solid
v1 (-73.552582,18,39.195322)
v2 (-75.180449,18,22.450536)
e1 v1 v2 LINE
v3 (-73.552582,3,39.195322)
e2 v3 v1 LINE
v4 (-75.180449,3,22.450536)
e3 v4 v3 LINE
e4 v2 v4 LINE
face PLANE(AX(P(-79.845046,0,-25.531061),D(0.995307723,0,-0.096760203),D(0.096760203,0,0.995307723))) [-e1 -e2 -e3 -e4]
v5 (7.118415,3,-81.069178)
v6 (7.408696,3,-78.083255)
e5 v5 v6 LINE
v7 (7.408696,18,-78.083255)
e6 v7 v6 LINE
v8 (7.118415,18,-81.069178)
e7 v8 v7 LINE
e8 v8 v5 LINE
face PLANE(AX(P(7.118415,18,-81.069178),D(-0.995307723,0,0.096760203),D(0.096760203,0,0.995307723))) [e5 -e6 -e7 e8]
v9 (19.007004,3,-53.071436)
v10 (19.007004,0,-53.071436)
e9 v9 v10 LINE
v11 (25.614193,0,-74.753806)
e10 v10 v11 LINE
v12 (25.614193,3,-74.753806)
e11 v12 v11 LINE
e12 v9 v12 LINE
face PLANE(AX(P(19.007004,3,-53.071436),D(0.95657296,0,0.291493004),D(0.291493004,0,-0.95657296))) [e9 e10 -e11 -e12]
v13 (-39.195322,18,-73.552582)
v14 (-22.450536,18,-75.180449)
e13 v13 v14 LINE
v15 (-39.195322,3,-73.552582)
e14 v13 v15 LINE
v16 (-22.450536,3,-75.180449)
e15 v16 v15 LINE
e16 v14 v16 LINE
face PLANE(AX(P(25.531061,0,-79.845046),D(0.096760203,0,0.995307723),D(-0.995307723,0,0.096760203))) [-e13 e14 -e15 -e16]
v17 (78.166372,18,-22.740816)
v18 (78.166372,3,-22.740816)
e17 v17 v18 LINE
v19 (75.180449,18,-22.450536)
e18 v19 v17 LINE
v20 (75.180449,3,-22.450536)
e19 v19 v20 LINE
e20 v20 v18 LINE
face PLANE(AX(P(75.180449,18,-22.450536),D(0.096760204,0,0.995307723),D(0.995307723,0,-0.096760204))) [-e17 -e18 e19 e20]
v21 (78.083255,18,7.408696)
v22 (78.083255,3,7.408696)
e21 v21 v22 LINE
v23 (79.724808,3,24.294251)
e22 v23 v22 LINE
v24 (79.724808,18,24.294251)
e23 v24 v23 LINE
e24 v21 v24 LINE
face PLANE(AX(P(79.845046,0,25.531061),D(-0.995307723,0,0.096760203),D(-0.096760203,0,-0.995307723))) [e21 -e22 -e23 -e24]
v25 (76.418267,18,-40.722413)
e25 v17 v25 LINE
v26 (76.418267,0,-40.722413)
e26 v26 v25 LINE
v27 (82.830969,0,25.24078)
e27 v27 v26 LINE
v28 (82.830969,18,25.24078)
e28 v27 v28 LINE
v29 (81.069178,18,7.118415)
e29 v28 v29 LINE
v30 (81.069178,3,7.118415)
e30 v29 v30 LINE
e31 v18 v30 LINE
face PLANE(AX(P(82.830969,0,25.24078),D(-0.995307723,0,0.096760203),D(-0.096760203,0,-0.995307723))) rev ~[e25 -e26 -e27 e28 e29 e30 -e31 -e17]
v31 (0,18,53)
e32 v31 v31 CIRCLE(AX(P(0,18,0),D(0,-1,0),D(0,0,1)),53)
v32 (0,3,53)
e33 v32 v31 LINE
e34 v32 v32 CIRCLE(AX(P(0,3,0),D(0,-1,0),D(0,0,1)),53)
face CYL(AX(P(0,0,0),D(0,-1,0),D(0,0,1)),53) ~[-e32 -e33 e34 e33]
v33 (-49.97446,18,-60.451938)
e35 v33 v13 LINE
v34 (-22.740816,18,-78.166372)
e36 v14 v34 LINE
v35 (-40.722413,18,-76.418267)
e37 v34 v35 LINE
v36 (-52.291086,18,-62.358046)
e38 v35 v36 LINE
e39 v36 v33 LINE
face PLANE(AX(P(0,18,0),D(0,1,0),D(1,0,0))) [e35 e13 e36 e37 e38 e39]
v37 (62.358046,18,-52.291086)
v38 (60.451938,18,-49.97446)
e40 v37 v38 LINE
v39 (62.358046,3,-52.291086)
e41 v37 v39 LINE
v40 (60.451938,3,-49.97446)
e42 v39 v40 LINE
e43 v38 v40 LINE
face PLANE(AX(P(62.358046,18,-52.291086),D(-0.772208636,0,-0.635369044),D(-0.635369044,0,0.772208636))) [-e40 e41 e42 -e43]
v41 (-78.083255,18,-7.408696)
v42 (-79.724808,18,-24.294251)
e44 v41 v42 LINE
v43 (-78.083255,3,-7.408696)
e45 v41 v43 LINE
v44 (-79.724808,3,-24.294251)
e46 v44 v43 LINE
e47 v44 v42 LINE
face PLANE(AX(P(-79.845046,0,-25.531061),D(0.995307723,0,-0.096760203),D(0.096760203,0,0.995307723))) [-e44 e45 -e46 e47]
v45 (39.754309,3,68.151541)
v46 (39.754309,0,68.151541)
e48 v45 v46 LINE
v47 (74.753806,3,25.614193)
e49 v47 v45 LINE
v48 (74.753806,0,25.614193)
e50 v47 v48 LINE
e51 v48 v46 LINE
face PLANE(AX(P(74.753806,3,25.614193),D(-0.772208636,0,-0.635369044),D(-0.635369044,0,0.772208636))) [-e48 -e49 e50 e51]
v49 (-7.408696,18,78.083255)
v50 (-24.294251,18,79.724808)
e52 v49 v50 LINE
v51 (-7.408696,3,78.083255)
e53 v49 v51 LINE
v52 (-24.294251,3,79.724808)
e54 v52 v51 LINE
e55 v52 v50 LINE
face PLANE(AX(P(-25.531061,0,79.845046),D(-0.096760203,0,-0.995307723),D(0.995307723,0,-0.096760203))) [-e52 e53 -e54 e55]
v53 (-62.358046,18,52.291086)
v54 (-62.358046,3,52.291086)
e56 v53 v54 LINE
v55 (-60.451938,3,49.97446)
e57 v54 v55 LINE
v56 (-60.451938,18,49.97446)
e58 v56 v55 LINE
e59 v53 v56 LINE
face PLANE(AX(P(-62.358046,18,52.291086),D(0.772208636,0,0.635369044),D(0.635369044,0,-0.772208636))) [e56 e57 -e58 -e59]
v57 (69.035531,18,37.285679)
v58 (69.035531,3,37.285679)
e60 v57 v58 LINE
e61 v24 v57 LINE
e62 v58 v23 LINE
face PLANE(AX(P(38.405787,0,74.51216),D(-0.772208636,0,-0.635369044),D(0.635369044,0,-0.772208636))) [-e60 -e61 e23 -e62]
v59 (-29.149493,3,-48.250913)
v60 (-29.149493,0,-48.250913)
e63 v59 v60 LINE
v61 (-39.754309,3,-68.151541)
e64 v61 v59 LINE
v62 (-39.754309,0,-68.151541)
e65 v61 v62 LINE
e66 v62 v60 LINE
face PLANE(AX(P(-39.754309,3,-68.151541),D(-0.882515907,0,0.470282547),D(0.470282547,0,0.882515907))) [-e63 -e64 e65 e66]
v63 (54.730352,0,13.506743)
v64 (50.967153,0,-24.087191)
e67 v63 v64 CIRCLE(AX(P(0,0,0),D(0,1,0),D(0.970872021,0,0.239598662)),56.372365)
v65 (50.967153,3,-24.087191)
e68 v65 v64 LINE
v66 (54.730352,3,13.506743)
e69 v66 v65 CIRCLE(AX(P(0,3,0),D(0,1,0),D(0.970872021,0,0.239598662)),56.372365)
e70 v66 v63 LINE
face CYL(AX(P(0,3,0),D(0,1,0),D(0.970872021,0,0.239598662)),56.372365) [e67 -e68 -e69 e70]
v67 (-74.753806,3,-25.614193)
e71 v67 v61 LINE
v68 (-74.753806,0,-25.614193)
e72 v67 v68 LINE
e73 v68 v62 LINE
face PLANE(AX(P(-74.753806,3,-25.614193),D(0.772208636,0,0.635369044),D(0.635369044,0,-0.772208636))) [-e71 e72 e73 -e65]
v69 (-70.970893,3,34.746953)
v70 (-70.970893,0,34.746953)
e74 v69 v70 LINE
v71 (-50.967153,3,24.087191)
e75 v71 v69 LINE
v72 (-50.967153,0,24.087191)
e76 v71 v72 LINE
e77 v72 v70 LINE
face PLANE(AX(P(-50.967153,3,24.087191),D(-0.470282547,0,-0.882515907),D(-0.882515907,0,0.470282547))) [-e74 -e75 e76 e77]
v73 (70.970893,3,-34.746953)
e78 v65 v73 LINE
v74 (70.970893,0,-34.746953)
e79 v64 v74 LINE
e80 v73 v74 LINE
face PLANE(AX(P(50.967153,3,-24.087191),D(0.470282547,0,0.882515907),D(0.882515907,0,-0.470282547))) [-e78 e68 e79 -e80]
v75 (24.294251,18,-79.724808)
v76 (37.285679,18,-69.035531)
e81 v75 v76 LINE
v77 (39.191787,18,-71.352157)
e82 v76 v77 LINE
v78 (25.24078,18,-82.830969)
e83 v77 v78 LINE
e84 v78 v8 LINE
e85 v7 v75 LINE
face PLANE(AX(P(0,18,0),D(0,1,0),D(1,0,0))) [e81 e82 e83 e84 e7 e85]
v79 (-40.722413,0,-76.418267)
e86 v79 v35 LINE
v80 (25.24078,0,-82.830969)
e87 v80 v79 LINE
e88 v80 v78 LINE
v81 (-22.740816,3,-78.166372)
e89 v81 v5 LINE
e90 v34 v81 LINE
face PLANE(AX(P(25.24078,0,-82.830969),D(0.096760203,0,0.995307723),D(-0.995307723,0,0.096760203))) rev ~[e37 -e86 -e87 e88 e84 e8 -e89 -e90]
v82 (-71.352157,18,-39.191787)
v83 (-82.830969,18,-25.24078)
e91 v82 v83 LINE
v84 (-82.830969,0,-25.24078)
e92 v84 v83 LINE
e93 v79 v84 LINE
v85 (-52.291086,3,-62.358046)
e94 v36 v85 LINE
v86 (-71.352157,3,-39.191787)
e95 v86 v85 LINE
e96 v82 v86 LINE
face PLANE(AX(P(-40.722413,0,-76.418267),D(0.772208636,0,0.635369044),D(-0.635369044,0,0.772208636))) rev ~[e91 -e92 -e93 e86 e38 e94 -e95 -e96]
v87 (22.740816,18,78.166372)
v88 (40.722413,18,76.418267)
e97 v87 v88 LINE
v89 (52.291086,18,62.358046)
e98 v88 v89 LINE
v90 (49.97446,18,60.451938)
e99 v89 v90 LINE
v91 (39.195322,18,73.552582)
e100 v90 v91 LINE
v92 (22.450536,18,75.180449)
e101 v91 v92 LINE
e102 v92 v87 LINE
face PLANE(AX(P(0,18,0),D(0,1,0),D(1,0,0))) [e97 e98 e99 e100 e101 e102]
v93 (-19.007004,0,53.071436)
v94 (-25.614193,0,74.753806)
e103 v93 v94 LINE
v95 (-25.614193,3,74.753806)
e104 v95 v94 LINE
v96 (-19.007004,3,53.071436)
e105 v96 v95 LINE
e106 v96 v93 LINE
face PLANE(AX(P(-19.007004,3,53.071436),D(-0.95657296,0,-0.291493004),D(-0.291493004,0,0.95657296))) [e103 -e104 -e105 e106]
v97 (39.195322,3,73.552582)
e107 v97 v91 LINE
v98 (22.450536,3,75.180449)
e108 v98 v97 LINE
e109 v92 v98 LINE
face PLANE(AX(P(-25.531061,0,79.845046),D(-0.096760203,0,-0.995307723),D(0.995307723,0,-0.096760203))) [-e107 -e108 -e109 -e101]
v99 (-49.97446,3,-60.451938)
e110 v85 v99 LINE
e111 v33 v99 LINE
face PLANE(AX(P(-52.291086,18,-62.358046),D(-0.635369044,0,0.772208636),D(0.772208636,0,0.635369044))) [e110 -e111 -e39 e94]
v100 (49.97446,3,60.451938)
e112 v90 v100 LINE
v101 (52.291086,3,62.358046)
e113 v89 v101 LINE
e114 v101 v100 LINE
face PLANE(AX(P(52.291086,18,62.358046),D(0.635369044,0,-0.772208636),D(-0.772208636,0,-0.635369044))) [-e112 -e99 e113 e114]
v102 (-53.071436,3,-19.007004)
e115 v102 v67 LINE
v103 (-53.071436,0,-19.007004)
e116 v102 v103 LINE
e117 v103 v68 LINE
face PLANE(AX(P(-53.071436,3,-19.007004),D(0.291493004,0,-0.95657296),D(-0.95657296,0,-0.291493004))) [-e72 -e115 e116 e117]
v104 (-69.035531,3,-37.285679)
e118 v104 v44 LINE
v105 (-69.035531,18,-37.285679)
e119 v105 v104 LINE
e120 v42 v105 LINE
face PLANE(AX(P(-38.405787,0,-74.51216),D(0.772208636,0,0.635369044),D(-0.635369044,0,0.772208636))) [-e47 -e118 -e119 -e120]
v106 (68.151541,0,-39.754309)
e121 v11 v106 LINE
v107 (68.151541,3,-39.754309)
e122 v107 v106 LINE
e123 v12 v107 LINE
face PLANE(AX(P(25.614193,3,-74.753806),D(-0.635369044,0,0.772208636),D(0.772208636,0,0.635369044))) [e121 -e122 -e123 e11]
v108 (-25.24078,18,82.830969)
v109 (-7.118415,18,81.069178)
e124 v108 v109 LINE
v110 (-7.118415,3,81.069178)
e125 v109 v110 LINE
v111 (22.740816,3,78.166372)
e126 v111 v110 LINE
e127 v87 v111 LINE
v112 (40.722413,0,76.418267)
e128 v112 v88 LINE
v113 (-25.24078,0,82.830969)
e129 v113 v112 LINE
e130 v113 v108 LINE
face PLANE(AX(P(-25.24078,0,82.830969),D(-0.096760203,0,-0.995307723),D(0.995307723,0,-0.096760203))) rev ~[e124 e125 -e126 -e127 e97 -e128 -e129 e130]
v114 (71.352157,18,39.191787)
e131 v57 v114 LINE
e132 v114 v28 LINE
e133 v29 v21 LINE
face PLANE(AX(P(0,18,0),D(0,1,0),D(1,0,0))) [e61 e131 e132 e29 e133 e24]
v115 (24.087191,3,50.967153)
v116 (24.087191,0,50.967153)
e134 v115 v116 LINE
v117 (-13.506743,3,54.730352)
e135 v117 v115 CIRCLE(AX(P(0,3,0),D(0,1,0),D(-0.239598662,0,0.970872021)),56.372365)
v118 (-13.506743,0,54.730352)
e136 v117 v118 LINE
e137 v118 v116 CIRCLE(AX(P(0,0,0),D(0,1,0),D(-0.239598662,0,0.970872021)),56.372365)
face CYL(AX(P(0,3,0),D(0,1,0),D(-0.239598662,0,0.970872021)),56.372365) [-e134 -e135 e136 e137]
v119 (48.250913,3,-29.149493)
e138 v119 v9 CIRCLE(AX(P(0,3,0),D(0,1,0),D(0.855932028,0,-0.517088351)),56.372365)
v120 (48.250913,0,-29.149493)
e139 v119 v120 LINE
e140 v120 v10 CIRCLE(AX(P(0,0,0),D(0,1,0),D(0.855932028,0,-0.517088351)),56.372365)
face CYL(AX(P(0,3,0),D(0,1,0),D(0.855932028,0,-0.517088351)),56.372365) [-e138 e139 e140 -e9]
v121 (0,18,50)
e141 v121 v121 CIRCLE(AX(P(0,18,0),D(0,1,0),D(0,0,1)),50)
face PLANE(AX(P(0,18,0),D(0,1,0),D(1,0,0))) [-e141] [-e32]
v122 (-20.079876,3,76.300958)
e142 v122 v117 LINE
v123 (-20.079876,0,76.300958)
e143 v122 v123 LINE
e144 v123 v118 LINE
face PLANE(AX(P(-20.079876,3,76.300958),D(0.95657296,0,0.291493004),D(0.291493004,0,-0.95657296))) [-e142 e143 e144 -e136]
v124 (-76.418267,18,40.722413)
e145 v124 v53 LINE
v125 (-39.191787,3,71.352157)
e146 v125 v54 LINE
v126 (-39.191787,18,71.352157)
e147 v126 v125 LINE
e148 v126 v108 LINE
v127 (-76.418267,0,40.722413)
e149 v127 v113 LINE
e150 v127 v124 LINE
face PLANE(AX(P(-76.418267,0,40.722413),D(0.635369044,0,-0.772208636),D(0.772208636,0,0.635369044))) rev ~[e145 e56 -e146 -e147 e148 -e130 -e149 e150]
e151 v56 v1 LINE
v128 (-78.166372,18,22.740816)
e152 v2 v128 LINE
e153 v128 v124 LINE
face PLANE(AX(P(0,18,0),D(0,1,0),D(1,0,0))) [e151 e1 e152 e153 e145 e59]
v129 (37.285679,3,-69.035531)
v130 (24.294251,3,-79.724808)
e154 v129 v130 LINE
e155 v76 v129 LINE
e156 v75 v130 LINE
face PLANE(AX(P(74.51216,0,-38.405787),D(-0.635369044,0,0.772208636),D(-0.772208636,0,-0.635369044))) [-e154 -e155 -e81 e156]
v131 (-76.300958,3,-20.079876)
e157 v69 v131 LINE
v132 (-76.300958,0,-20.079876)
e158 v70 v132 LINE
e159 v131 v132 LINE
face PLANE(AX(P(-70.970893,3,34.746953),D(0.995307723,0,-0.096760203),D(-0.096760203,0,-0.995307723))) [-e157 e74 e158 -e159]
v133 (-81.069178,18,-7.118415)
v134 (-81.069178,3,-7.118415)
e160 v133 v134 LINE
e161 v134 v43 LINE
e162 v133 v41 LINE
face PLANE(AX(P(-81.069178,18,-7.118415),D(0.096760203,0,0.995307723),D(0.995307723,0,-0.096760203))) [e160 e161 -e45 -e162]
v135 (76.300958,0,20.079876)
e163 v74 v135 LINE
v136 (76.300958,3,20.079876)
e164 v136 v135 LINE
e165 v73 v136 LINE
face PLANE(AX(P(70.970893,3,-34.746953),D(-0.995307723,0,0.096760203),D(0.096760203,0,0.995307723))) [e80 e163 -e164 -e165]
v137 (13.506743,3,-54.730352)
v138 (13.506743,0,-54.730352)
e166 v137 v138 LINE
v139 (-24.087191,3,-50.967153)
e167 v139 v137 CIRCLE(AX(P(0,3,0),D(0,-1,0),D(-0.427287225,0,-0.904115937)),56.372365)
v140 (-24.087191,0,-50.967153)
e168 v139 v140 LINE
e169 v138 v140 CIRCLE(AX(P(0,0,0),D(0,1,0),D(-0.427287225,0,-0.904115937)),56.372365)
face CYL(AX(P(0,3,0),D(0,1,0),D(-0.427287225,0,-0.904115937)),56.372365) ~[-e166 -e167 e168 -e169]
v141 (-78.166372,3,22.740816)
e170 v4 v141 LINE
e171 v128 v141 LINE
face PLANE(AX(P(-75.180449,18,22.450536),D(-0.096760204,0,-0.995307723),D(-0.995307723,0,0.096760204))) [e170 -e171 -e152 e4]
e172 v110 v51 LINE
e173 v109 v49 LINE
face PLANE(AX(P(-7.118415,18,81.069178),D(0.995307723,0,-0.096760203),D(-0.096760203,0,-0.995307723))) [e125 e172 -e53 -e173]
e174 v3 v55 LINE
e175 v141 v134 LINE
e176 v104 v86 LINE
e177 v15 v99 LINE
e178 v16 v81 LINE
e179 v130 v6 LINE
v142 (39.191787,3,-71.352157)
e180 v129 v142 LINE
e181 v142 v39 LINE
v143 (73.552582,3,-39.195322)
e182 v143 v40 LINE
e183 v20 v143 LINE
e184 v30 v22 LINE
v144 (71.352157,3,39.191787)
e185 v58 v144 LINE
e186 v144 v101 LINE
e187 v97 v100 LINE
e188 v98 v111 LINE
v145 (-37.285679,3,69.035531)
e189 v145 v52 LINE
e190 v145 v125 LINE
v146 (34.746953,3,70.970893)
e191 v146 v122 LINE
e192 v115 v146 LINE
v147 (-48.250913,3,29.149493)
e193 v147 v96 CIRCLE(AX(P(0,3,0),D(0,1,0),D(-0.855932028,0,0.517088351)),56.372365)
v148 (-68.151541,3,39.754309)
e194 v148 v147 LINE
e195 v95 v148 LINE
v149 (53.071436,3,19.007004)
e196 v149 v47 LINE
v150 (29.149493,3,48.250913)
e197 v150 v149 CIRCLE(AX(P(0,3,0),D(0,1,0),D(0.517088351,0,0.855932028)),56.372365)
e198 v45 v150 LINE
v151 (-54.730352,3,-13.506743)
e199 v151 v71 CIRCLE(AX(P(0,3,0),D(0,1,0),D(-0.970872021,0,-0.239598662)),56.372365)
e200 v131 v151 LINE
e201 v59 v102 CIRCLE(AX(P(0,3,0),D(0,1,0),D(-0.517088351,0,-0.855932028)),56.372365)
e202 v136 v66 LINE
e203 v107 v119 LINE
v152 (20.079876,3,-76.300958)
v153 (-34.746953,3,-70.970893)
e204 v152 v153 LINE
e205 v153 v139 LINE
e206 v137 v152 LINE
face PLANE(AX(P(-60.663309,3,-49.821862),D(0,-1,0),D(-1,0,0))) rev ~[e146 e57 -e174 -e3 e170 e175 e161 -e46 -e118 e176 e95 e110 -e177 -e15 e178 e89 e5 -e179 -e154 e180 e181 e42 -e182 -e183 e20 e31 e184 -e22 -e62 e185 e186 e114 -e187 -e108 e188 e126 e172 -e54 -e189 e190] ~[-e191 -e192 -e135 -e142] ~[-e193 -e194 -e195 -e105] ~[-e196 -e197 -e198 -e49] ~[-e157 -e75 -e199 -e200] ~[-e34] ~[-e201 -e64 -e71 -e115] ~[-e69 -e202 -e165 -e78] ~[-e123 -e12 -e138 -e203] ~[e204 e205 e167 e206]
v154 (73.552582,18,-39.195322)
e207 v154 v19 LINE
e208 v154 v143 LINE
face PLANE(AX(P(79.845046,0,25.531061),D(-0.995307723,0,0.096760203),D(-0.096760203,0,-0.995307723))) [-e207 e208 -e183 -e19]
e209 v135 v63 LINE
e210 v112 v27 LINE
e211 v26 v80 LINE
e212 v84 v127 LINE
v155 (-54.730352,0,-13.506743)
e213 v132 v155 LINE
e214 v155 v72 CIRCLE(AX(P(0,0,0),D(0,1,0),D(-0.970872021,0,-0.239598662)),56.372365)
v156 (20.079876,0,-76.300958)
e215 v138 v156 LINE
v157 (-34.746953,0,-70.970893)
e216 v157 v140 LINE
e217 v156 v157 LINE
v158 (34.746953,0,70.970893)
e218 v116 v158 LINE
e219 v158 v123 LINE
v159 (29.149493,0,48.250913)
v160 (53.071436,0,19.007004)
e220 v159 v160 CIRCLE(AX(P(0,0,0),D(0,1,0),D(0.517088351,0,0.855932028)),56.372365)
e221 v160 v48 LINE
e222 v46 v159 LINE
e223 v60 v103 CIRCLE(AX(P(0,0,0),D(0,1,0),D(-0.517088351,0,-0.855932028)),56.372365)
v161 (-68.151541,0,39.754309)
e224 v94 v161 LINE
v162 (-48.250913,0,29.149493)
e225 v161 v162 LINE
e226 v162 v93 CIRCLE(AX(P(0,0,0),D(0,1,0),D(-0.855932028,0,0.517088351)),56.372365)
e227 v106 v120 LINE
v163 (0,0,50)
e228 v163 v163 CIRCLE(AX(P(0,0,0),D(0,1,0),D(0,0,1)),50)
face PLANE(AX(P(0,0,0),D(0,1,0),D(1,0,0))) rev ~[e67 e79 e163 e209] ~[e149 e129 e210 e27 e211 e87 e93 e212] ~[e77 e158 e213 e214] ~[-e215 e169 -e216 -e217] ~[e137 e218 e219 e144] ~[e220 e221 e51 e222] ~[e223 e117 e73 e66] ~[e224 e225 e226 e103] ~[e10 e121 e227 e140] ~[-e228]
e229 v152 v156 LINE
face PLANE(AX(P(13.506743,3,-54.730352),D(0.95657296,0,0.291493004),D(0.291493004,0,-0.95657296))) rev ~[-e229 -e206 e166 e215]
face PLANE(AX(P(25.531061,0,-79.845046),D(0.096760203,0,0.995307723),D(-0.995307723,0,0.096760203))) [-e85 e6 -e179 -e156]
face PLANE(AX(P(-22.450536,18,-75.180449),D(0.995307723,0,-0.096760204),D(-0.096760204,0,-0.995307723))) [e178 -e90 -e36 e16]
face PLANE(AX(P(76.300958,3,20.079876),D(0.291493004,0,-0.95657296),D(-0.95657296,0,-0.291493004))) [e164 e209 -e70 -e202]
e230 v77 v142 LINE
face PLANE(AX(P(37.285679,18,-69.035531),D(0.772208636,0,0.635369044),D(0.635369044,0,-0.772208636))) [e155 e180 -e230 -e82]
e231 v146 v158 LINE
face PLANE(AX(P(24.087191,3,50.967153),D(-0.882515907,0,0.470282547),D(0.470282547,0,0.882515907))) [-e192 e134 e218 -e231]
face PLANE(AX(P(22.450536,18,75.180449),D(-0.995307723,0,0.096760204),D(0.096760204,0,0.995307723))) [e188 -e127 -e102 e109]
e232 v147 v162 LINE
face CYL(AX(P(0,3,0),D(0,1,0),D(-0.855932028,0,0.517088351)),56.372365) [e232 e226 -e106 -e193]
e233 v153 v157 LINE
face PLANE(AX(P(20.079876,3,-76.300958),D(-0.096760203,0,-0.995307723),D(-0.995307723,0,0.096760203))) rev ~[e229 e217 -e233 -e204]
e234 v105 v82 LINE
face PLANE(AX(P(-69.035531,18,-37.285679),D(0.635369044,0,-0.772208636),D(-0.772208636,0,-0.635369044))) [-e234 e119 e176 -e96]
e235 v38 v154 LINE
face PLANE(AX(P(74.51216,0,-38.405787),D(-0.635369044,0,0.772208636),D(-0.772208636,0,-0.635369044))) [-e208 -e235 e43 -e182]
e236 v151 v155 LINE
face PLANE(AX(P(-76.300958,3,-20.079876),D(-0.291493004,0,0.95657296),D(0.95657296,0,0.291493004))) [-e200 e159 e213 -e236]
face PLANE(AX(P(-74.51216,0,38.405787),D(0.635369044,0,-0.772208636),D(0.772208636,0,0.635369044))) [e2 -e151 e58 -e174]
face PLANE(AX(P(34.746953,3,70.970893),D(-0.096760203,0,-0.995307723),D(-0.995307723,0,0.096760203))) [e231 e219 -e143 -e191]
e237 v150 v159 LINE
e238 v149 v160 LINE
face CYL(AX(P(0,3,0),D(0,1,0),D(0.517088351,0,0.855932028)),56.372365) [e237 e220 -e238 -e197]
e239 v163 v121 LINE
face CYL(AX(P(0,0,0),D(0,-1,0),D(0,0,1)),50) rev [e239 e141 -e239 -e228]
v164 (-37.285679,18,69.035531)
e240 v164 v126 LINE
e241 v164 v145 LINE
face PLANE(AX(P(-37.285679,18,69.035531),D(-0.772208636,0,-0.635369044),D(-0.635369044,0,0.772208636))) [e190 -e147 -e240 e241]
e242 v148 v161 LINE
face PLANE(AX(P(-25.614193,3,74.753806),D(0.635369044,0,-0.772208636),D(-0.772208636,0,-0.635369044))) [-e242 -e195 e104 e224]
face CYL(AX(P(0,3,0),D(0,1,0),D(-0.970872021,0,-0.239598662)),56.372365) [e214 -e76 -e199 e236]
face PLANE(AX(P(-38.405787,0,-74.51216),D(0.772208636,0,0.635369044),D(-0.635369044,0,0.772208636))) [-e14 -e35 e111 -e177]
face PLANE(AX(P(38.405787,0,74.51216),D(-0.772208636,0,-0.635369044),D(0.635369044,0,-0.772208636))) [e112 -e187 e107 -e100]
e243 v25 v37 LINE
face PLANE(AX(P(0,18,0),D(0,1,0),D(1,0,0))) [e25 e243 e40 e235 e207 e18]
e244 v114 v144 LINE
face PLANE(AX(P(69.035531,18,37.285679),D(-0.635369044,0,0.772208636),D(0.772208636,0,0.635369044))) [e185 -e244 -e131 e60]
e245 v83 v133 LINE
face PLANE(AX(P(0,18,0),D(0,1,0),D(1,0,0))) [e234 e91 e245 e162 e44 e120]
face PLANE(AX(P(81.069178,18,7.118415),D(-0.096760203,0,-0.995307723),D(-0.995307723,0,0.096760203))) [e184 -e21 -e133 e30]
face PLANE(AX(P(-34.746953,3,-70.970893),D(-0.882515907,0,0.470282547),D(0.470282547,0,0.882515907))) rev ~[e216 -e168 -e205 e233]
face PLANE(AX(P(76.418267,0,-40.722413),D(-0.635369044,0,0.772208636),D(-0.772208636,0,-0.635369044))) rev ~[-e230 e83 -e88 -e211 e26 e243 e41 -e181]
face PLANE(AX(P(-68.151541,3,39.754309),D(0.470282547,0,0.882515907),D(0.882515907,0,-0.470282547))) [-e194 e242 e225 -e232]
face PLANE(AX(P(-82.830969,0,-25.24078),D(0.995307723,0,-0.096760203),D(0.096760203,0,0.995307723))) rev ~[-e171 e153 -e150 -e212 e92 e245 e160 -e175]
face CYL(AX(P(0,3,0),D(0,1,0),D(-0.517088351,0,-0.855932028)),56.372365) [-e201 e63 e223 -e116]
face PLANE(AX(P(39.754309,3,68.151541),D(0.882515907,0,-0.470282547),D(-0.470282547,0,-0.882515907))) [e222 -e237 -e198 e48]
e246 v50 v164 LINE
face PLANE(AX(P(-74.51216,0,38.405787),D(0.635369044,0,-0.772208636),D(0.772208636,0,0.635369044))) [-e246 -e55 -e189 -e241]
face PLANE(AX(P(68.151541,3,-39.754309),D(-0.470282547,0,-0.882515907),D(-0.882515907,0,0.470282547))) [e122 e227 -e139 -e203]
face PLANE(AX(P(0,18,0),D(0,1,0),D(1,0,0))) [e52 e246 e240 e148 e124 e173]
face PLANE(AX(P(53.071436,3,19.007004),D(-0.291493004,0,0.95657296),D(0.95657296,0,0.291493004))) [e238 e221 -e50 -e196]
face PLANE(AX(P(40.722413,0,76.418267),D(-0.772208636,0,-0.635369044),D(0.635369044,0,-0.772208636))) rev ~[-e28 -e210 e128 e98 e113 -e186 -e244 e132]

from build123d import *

# Parameters (mm, degrees)
SKETCH1_R           = 50
BOSS_EXTRUDE1_DEPTH = 18
SHELL1_T            = -3
CUT_EXTRUDE1_DEPTH  = 15
CUT_EXTRUDE2_DEPTH  = 119.097158392


with BuildPart() as part:
    # Sketch1 → Boss-Extrude1 (new body)
    with BuildSketch(Plane(origin=(0, 0, 0), x_dir=(1, 0, 0), z_dir=(0, 1, 0))):
        Polygon((-40.722412876, 76.418266738), (-82.830968907, 25.240780326), (-76.418266738, -40.722412876), (-25.240780326, -82.830968907), (40.722412876, -76.418266738), (82.830968907, -25.240780326), (76.418266738, 40.722412876), (25.240780326, 82.830968907), align=None)
        Circle(SKETCH1_R, mode=Mode.SUBTRACT)
    extrude(amount=BOSS_EXTRUDE1_DEPTH)

    # Shell1
    shell1_openings = [part.faces().sort_by_distance(p)[0] for p in [
        (-59.967550003, 18, -49.340972299),
    ]]
    offset(amount=SHELL1_T, openings=shell1_openings, kind=Kind.INTERSECTION)

    # Sketch3 → Cut-Extrude1 (cut)
    with BuildSketch(Plane(origin=(0, 18, 0), x_dir=(1, 0, 0), z_dir=(0, 1, 0))):
        Polygon((7.118415409, 81.069178382), (7.408696019, 78.083255213), (-22.450535664, 75.18044911), (-22.740816275, 78.166372279), align=None)
        Polygon((60.451938453, 49.974460064), (37.285679369, 69.035531388), (39.191786502, 71.352157297), (62.358045586, 52.291085972), align=None)
        Polygon((78.083255213, -7.408696019), (75.18044911, 22.450535664), (78.166372279, 22.740816275), (81.069178382, -7.118415409), align=None)
        Polygon((49.974460064, -60.451938453), (69.035531388, -37.285679369), (71.352157297, -39.191786502), (52.291085972, -62.358045586), align=None)
        Polygon((-7.408696019, -78.083255213), (22.450535664, -75.18044911), (22.740816275, -78.166372279), (-7.118415409, -81.069178382), align=None)
        Polygon((-60.451938453, -49.974460064), (-37.285679369, -69.035531388), (-39.191786502, -71.352157297), (-62.358045586, -52.291085972), align=None)
        Polygon((-78.083255213, 7.408696019), (-75.18044911, -22.450535664), (-78.166372279, -22.740816275), (-81.069178382, 7.118415409), align=None)
        Polygon((-49.974460064, 60.451938453), (-69.035531388, 37.285679369), (-71.352157297, 39.191786502), (-52.291085972, 62.358045586), align=None)
    extrude(amount=-CUT_EXTRUDE1_DEPTH, mode=Mode.SUBTRACT)

    # Sketch5 → Cut-Extrude2 (cut, through all)
    with BuildSketch(Plane(origin=(0, 3, 0), x_dir=(1, 0, 0), z_dir=(0, 1, 0))):
        with BuildLine():
            Line((-34.746953293, 70.970892834), (-24.087191321, 50.967153462))
            ThreePointArc((-24.087191321, 50.967153462), (-5.614880768, 56.092037151), (13.506743194, 54.730351781))
            Line((13.506743194, 54.730351781), (20.079875719, 76.300958107))
            Line((20.079875719, 76.300958107), (-34.746953293, 70.970892834))
        make_face()
        with BuildLine():
            Line((25.614193291, 74.753805889), (68.151541175, 39.754308602))
            Line((68.151541175, 39.754308602), (48.250912585, 29.149493176))
            ThreePointArc((48.250912585, 29.149493176), (35.692739573, 43.633380106), (19.007003508, 53.071436154))
            Line((19.007003508, 53.071436154), (25.614193291, 74.753805889))
        make_face()
        with BuildLine():
            Line((70.970892834, 34.746953293), (76.300958107, -20.079875719))
            Line((76.300958107, -20.079875719), (54.730351781, -13.506743194))
            ThreePointArc((54.730351781, -13.506743194), (56.092037151, 5.614880768), (50.967153462, 24.087191321))
            Line((50.967153462, 24.087191321), (70.970892834, 34.746953293))
        make_face()
        with BuildLine():
            Line((74.753805889, -25.614193291), (39.754308602, -68.151541175))
            Line((39.754308602, -68.151541175), (29.149493176, -48.250912585))
            ThreePointArc((29.149493176, -48.250912585), (43.633380106, -35.692739573), (53.071436154, -19.007003508))
            Line((53.071436154, -19.007003508), (74.753805889, -25.614193291))
        make_face()
        with BuildLine():
            Line((34.746953293, -70.970892834), (-20.079875719, -76.300958107))
            Line((-20.079875719, -76.300958107), (-13.506743194, -54.730351781))
            ThreePointArc((-13.506743194, -54.730351781), (5.614880768, -56.092037151), (24.087191321, -50.967153462))
            Line((24.087191321, -50.967153462), (34.746953293, -70.970892834))
        make_face()
        with BuildLine():
            Line((-25.614193291, -74.753805889), (-68.151541175, -39.754308602))
            Line((-68.151541175, -39.754308602), (-48.250912585, -29.149493176))
            ThreePointArc((-48.250912585, -29.149493176), (-35.692739573, -43.633380106), (-19.007003508, -53.071436154))
            Line((-19.007003508, -53.071436154), (-25.614193291, -74.753805889))
        make_face()
        with BuildLine():
            Line((-70.970892834, -34.746953293), (-76.300958107, 20.079875719))
            Line((-76.300958107, 20.079875719), (-54.730351781, 13.506743194))
            ThreePointArc((-54.730351781, 13.506743194), (-56.092037151, -5.614880768), (-50.967153462, -24.087191321))
            Line((-50.967153462, -24.087191321), (-70.970892834, -34.746953293))
        make_face()
        with BuildLine():
            Line((-74.753805889, 25.614193291), (-39.754308602, 68.151541175))
            Line((-39.754308602, 68.151541175), (-29.149493176, 48.250912585))
            ThreePointArc((-29.149493176, 48.250912585), (-43.633380106, 35.692739573), (-53.071436154, 19.007003508))
            Line((-53.071436154, 19.007003508), (-74.753805889, 25.614193291))
        make_face()
    extrude(amount=-CUT_EXTRUDE2_DEPTH, mode=Mode.SUBTRACT)


solid = part.part
